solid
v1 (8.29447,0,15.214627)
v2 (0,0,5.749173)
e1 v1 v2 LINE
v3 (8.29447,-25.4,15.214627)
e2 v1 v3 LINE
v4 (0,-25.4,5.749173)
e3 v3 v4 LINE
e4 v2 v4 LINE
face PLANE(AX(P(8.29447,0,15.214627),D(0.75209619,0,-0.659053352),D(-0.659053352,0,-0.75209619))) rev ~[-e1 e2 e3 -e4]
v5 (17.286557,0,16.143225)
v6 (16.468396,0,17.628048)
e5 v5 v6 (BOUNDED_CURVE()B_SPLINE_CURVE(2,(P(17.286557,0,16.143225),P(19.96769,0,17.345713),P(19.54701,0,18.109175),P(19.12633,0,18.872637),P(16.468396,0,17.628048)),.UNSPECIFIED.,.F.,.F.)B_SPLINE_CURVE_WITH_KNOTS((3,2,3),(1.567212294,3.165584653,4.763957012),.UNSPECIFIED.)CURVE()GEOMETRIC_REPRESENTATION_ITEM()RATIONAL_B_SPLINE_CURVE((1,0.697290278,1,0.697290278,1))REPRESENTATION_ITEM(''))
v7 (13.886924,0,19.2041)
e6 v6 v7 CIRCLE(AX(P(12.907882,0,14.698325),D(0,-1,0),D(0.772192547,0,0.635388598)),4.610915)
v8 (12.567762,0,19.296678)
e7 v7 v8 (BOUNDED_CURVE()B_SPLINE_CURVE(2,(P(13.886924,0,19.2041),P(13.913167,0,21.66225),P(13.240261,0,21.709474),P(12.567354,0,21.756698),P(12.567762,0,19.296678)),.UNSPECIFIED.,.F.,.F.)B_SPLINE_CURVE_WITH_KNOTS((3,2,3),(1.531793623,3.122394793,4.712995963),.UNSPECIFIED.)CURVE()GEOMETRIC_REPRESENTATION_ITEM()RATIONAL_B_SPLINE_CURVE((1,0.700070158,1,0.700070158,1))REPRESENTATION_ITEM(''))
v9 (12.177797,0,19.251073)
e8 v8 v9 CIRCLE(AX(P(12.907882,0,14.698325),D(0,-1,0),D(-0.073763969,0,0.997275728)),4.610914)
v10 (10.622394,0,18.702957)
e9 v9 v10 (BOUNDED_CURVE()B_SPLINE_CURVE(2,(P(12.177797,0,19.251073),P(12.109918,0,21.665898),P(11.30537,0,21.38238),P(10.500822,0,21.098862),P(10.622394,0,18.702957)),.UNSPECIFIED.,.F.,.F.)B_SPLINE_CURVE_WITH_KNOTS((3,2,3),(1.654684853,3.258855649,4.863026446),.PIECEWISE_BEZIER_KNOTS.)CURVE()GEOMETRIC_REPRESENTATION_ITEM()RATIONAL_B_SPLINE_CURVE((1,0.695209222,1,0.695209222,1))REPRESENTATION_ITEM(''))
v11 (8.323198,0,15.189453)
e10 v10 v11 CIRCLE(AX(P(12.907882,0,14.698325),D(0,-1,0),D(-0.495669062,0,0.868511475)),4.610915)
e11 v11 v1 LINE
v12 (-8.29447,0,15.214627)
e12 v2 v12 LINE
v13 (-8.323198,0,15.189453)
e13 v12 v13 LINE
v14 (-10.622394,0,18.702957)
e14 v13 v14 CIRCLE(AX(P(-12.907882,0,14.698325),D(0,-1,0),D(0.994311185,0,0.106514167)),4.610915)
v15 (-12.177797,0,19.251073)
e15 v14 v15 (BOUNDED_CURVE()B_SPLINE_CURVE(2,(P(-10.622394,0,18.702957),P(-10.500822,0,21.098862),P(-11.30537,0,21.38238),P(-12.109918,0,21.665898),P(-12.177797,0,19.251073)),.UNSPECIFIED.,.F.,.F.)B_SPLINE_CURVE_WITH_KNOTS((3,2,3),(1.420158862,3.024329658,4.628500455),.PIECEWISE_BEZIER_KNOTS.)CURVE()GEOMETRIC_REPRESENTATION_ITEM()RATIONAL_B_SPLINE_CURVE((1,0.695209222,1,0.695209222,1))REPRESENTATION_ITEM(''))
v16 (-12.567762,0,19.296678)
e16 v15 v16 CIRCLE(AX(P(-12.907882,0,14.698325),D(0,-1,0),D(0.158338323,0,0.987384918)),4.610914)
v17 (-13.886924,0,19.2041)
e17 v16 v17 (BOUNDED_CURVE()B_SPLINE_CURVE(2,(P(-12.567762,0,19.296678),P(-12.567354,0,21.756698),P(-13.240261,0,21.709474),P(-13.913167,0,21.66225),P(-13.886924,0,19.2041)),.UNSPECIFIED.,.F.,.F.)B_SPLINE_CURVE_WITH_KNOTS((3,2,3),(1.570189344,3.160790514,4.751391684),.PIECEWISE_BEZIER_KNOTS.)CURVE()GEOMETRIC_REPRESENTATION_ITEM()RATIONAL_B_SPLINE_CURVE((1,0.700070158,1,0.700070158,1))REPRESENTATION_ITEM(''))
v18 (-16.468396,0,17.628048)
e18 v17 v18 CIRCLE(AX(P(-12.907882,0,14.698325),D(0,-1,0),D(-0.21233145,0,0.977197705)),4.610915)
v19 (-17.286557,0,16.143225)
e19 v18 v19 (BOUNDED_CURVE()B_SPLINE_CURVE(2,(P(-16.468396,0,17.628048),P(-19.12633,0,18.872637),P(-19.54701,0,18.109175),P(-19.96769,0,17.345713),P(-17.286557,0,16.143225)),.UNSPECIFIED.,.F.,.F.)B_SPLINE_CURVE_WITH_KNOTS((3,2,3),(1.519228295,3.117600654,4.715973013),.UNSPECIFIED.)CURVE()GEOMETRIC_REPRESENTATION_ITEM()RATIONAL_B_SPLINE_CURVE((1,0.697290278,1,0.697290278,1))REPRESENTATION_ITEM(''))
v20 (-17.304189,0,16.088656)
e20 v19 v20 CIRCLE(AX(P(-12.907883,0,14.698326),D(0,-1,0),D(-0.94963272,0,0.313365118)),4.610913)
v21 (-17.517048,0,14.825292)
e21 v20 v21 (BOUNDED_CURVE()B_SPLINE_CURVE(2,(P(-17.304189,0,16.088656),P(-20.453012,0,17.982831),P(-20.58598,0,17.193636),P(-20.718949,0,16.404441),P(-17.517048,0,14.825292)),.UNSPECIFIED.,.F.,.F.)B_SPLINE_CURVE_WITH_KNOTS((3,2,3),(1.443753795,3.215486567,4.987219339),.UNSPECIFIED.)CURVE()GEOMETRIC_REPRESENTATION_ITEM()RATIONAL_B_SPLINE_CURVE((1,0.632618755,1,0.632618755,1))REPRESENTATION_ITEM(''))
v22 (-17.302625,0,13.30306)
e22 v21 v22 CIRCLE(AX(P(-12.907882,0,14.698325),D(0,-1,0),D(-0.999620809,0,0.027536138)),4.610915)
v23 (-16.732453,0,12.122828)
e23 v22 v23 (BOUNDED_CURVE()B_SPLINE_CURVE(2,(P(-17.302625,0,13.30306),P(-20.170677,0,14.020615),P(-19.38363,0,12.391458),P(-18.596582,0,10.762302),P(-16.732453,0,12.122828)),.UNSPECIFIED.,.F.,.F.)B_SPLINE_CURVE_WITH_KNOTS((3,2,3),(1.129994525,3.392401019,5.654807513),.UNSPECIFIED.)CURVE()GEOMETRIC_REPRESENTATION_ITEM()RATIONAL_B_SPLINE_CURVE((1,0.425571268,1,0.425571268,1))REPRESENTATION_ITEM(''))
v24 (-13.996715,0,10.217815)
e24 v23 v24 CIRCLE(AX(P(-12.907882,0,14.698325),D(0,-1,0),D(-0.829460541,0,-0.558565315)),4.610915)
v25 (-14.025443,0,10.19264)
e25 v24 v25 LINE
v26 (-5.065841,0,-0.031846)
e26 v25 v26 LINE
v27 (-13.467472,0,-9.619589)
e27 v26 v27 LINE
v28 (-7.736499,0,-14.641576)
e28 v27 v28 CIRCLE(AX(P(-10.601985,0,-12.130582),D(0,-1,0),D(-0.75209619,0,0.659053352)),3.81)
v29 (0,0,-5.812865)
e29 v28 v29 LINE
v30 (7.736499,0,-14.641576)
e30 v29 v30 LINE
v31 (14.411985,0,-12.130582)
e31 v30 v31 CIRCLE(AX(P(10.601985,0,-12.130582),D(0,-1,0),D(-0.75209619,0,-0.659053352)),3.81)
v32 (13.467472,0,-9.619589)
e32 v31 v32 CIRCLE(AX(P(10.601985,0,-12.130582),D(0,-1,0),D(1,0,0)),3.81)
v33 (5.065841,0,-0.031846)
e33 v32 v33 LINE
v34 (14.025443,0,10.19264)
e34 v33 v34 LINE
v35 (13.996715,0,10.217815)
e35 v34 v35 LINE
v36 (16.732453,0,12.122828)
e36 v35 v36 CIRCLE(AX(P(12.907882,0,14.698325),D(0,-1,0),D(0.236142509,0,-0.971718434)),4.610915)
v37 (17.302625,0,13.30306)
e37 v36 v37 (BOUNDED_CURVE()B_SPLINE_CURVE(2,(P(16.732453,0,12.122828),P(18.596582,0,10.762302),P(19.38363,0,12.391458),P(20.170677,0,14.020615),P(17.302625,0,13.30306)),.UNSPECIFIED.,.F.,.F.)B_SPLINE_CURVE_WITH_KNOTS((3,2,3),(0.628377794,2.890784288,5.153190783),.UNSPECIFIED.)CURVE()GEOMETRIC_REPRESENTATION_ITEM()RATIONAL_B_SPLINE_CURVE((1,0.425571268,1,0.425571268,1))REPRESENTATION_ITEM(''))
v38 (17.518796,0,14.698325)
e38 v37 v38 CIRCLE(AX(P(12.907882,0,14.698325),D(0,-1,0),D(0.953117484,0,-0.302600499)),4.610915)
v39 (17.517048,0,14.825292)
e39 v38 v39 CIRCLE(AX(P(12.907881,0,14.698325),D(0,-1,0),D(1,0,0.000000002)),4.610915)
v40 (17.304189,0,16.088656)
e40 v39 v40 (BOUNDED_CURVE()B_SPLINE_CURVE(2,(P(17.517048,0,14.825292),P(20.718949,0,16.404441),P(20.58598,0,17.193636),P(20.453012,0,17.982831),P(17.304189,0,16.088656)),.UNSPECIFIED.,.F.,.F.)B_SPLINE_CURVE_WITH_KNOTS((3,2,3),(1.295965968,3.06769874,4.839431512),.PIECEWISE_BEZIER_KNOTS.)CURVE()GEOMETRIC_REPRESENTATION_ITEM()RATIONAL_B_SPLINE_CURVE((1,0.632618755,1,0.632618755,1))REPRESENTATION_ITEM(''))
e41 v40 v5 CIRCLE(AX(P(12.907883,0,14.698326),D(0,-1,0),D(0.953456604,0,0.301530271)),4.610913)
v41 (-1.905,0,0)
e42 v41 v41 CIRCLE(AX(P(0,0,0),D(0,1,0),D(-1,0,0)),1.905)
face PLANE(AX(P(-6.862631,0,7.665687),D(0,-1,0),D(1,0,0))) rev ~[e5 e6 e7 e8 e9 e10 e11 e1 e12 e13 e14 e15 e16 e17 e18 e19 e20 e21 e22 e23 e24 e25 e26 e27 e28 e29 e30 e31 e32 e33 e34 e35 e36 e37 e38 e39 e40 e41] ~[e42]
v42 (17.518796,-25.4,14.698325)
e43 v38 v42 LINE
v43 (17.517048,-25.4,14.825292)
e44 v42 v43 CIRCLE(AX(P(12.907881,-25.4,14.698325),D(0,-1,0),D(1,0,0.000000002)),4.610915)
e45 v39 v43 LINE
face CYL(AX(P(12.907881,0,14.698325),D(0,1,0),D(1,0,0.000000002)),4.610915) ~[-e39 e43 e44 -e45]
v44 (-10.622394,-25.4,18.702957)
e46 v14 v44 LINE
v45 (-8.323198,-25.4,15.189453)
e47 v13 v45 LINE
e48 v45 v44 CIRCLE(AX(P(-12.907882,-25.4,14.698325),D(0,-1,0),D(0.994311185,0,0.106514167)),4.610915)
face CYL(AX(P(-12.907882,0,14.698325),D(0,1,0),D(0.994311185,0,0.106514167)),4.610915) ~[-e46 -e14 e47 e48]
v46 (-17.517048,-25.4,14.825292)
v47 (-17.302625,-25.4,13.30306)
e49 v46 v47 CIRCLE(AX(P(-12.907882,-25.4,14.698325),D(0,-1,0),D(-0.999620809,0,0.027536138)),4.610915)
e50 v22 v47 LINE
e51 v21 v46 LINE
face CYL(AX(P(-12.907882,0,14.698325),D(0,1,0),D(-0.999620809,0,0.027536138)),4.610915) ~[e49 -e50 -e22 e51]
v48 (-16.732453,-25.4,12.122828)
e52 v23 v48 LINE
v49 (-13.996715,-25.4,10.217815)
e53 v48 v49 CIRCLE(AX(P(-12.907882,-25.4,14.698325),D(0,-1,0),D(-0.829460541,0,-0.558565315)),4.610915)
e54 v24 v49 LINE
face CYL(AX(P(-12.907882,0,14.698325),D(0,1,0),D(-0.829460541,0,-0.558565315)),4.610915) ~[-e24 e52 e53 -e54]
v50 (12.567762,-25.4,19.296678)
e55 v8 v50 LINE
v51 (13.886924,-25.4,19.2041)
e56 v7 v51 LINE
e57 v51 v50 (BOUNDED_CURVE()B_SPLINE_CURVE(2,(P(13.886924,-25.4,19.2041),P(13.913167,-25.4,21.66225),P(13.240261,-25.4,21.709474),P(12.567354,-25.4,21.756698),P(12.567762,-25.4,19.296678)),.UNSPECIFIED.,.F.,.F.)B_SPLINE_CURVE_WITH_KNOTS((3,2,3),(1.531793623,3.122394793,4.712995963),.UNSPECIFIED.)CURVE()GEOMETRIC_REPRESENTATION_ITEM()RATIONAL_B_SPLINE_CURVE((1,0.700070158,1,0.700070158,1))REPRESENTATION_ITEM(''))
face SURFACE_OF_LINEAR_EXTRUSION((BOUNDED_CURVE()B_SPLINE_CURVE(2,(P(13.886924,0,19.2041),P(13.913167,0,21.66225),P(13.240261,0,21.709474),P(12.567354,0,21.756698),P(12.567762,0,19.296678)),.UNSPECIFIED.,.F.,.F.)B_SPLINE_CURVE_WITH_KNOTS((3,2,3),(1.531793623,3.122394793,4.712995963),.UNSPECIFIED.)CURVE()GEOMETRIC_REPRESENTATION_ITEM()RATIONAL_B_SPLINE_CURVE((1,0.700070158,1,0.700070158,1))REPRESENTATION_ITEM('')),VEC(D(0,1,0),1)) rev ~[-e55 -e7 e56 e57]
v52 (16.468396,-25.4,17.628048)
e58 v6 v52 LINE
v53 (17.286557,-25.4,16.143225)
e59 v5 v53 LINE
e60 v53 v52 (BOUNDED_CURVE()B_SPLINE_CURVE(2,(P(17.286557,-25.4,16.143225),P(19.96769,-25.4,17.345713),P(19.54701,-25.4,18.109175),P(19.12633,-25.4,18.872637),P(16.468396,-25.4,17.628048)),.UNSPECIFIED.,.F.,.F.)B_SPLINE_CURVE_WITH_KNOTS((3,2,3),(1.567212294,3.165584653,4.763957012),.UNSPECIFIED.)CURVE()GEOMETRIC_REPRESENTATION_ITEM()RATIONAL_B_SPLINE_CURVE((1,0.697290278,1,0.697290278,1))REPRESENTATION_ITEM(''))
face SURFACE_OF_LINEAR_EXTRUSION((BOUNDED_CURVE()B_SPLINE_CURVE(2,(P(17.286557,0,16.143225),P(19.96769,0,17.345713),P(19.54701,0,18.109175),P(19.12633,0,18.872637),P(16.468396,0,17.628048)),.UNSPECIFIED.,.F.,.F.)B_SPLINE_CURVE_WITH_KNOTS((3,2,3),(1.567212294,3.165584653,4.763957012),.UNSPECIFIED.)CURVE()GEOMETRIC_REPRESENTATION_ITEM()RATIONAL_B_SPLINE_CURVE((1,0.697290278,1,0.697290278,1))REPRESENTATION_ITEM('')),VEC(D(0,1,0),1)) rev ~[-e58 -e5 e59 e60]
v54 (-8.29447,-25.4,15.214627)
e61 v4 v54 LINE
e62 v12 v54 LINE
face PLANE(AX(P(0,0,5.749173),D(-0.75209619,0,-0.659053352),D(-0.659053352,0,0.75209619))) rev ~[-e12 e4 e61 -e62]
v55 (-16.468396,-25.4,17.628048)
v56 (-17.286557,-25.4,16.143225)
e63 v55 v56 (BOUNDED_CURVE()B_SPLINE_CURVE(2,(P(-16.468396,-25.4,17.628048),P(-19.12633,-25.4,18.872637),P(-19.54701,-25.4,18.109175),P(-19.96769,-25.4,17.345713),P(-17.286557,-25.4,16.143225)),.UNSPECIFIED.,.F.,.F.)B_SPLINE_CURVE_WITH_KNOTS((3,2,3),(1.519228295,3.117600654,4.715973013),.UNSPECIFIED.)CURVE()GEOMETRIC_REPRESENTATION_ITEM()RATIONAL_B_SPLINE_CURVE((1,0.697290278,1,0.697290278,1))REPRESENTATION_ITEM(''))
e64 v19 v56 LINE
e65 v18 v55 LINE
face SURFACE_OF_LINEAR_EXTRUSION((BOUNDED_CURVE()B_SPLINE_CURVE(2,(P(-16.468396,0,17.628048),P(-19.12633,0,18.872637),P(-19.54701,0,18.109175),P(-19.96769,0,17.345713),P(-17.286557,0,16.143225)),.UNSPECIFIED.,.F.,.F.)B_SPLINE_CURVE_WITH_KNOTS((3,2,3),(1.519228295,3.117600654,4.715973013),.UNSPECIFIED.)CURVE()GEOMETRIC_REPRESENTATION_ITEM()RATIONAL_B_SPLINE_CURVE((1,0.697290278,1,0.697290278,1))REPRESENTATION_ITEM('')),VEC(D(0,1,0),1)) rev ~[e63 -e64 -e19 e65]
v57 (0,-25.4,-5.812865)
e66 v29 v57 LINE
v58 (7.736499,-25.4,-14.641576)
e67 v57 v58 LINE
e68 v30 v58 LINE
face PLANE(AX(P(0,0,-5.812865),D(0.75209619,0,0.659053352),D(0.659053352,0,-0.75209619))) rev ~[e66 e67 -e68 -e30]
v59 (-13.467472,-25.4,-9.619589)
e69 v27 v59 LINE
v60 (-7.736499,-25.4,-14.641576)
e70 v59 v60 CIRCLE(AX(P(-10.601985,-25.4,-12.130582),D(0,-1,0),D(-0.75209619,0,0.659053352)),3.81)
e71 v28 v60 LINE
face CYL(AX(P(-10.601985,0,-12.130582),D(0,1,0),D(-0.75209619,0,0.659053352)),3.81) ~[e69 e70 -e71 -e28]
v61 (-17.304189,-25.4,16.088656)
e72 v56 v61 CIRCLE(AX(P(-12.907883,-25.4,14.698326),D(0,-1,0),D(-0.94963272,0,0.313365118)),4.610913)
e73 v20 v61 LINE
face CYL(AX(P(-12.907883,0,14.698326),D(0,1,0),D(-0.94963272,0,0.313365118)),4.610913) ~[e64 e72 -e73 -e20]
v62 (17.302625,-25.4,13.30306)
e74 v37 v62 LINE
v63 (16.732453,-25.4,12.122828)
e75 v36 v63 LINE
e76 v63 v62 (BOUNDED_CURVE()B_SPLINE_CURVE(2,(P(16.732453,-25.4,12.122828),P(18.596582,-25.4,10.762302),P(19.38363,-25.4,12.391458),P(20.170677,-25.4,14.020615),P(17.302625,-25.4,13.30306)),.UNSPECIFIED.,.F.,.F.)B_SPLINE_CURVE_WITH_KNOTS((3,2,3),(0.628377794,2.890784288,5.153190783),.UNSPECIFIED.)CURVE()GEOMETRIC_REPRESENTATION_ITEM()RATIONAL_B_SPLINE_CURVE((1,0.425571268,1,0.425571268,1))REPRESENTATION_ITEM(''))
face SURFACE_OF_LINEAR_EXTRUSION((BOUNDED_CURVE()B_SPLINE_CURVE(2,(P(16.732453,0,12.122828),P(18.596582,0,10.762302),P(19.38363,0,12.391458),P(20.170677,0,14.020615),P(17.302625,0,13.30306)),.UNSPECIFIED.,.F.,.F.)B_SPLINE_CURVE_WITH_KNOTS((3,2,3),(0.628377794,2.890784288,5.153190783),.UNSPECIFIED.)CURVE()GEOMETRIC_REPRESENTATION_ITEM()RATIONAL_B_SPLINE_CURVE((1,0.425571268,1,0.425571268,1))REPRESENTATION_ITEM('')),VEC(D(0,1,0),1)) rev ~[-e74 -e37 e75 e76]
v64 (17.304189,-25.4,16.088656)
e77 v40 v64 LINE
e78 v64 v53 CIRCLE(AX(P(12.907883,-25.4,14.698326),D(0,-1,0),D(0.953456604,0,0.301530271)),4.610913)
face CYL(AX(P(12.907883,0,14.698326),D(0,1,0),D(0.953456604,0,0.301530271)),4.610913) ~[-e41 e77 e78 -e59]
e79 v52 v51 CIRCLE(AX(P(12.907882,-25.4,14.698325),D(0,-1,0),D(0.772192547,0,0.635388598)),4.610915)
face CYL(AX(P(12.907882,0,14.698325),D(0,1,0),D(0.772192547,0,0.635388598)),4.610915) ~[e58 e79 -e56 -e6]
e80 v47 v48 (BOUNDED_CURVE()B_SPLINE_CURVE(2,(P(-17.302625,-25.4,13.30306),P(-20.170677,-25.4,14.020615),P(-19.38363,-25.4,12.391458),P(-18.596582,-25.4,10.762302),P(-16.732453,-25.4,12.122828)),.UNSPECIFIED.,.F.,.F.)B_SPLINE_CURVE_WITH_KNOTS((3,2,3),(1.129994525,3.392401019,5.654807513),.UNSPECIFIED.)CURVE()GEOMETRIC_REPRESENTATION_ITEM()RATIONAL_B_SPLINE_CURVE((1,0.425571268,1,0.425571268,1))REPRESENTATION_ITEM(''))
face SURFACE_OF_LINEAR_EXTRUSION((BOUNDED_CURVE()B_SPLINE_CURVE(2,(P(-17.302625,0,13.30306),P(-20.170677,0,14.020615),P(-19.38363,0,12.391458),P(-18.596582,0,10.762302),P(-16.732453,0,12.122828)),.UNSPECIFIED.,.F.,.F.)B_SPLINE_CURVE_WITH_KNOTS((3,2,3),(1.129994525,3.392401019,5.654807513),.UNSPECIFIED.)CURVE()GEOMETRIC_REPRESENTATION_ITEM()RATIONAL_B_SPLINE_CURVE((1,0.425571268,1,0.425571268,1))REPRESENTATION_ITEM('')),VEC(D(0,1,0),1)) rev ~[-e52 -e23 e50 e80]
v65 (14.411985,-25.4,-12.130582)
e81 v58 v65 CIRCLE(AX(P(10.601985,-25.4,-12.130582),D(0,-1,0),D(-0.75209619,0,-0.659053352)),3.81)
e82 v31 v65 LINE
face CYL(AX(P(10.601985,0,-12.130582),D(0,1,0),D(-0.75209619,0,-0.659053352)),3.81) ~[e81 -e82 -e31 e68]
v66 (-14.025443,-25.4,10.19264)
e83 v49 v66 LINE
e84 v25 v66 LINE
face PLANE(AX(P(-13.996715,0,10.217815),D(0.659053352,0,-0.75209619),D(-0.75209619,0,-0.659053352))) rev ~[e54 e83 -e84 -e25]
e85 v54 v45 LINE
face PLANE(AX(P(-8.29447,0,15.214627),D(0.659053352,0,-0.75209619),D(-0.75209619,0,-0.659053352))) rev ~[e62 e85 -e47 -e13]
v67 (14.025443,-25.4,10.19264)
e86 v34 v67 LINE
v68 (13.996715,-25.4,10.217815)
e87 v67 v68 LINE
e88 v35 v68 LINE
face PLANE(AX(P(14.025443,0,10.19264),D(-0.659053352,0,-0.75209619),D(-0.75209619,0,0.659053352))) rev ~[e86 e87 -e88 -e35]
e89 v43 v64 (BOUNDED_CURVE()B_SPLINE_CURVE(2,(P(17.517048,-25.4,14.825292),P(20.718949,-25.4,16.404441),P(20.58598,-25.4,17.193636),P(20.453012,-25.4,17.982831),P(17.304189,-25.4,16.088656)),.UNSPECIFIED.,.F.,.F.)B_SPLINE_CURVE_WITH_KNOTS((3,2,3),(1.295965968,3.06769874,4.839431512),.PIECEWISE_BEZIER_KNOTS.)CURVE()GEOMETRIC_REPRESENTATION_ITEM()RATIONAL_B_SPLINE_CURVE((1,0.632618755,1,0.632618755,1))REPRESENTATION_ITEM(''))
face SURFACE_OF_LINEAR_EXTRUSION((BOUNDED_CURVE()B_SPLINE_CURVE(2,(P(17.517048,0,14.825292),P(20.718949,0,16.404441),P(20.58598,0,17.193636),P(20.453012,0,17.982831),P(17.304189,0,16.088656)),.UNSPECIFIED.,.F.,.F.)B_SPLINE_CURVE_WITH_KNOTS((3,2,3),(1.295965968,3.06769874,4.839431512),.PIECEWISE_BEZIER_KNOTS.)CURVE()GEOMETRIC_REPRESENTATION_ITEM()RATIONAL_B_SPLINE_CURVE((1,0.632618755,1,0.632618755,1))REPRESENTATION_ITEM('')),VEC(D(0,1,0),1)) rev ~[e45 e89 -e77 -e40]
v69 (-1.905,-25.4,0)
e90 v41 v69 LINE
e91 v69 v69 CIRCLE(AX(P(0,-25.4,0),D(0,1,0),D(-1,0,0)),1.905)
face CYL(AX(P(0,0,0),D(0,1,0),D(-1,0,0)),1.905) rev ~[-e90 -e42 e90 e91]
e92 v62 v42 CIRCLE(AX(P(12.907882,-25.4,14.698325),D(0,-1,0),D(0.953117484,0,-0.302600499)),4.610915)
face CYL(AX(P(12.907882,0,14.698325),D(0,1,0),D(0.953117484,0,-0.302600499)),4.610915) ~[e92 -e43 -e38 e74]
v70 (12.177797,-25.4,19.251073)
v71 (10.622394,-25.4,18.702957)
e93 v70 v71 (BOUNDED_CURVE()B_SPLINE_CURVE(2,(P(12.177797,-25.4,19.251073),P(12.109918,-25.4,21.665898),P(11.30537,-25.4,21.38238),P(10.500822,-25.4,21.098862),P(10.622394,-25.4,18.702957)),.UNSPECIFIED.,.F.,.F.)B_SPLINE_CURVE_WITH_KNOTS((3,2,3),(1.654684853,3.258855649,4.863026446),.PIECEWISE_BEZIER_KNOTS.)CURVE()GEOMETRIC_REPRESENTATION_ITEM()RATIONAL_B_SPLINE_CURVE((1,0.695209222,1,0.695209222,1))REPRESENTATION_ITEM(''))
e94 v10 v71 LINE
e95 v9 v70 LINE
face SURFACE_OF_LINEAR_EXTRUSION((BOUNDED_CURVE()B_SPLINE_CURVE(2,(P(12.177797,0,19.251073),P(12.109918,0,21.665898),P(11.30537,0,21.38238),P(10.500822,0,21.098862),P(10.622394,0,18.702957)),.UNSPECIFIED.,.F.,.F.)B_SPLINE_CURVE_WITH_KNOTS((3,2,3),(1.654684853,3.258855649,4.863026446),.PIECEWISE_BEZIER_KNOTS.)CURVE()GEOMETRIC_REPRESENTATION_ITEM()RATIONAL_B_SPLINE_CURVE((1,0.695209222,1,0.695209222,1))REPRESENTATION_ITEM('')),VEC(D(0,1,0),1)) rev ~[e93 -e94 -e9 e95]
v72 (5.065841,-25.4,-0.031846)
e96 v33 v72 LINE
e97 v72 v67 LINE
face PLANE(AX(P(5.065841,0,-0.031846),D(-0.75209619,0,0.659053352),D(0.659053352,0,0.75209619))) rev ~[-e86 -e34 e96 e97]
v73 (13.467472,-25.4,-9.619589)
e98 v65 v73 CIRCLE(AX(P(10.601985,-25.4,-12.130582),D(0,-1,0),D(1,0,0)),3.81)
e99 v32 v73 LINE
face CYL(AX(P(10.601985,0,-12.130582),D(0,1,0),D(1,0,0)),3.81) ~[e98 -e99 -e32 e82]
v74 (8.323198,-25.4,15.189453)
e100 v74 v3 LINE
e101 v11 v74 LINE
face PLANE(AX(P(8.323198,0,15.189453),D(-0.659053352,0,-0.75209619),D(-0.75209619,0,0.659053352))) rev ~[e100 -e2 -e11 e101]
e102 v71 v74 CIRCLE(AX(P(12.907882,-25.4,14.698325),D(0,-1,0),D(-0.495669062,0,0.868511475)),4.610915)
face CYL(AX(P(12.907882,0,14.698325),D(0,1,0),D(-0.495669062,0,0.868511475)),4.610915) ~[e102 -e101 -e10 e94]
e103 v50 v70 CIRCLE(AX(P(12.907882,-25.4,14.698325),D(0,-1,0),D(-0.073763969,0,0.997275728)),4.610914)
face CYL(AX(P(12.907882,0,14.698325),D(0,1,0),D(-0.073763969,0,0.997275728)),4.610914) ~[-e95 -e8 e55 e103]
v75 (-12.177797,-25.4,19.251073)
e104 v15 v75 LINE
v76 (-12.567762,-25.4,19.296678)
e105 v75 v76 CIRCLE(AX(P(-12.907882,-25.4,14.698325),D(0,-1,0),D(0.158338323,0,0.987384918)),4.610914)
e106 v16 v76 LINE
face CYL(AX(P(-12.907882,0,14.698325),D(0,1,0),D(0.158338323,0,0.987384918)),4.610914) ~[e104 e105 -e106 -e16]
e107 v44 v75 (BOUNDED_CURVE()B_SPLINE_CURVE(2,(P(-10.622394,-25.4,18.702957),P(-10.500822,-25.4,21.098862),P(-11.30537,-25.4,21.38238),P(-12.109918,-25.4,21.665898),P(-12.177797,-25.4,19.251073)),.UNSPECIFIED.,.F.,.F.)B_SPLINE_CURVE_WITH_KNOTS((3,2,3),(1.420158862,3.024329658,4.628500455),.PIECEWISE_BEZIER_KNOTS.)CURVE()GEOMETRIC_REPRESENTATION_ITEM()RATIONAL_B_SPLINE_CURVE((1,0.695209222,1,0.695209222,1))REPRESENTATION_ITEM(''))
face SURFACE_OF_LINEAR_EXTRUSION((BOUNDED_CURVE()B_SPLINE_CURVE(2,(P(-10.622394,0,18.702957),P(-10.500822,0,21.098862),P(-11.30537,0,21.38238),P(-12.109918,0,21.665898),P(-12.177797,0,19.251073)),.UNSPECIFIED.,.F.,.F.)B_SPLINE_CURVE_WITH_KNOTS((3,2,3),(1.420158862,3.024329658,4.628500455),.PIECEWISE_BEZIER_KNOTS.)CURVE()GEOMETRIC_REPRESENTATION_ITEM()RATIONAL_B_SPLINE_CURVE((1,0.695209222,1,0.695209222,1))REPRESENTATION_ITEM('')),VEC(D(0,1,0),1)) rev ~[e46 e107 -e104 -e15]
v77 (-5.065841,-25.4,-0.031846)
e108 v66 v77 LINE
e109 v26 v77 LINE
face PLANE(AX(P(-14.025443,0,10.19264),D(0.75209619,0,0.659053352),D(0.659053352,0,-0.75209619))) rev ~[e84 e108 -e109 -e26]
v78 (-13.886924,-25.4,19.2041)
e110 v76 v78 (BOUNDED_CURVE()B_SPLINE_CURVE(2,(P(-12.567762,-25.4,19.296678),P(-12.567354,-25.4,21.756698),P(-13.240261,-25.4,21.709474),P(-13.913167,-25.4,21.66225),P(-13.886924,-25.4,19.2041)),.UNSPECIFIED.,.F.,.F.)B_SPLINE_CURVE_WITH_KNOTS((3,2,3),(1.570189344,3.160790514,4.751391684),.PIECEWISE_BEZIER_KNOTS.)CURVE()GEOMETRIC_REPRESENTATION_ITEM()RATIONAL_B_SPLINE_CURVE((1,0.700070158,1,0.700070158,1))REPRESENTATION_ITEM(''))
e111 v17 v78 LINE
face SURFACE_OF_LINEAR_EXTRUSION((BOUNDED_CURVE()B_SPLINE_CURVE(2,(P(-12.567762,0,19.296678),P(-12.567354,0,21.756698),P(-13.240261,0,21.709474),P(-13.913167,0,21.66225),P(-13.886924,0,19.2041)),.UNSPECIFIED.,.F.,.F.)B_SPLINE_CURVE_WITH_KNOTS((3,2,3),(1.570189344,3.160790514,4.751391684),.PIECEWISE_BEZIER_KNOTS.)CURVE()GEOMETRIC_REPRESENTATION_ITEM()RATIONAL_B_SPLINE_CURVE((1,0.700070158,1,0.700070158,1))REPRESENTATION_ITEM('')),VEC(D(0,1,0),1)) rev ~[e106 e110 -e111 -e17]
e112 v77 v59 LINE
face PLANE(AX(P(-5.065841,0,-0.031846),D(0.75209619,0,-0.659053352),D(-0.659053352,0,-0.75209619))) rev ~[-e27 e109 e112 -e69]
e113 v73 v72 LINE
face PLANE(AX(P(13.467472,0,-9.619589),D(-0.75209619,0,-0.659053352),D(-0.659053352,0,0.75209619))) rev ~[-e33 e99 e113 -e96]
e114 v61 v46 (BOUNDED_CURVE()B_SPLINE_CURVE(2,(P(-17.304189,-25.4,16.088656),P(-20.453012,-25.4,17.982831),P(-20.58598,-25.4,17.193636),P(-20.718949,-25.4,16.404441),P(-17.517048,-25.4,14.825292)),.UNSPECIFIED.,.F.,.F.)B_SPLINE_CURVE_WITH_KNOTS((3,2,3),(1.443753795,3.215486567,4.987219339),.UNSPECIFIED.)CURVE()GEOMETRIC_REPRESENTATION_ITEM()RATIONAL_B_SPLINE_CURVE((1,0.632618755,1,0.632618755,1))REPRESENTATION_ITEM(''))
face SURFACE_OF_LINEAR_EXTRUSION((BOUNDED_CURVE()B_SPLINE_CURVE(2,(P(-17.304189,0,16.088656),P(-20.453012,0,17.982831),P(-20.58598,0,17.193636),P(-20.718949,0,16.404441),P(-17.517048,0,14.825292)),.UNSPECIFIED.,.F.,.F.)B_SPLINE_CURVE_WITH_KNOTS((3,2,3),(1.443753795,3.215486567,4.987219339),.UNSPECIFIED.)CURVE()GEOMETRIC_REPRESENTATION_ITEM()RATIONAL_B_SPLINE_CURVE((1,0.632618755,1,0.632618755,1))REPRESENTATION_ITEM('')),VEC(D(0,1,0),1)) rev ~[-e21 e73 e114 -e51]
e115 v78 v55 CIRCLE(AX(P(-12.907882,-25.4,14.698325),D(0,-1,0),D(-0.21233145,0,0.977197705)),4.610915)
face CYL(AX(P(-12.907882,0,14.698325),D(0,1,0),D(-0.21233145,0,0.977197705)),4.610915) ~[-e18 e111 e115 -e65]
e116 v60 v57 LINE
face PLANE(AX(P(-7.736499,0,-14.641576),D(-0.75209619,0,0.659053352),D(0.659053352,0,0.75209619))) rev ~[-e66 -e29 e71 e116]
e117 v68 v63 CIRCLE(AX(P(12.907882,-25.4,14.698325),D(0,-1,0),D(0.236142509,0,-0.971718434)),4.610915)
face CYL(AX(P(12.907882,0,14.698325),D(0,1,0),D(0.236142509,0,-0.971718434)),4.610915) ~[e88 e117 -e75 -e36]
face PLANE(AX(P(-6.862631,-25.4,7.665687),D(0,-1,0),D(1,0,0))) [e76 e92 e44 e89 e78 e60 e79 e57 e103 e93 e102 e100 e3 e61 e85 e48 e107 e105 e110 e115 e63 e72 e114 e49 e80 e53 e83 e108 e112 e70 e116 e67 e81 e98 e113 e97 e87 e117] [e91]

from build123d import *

# Parameters (mm, degrees)
F1_DEPTH = 25.4
F2_R     = 1.905
F3_DEPTH = 25.4


with BuildPart() as f1:
    # F0 (on Front) → F1 (new body)
    with BuildSketch(Plane.XZ):
        with BuildLine():
            Line((0, 5.7491731517), (-8.2944697503, 15.2146270099))
            Line((-8.2944697503, 15.2146270099), (-8.3231978396, 15.1894529114))
            ThreePointArc((-8.3231978396, 15.1894529114), (-8.3035295288, 14.94423904), (-8.2969671988, 14.6983251912))
            ThreePointArc((-8.2969671988, 14.6983251912), (-10.0583188378, 11.0733391142), (-13.9967146278, 10.2178145639))
            Line((-13.9967146278, 10.2178145639), (-14.0254427171, 10.1926404654))
            Line((-14.0254427171, 10.1926404654), (-5.0658413794, -0.0318459217))
            Line((-5.0658413794, -0.0318459217), (0, 5.7491731517))
        make_face()
        with BuildLine():
            Line((8.2944697503, 15.2146270099), (0, 5.7491731517))
            Line((0, 5.7491731517), (5.0658413794, -0.0318459217))
            Line((5.0658413794, -0.0318459217), (14.0254427171, 10.1926404654))
            Line((14.0254427171, 10.1926404654), (13.9967146278, 10.2178145639))
            ThreePointArc((13.9967146278, 10.2178145639), (9.8690430435, 11.2304739572), (8.3231978396, 15.1894529114))
            Line((8.3231978396, 15.1894529114), (8.2944697503, 15.2146270099))
        make_face()
        Polygon((5.0658413794, -0.0318459217), (0, 5.7491731517), (-5.0658413794, -0.0318459217), (0, -5.8128649951), align=None)
        with BuildLine():
            ThreePointArc((-8.2969671988, 14.6983251912), (-8.3035295288, 14.94423904), (-8.3231978396, 15.1894529114))
            Line((-8.3231978396, 15.1894529114), (-11.1599562337, 12.7036337377))
            Line((-11.1599562337, 12.7036337377), (-13.9967146278, 10.2178145639))
            ThreePointArc((-13.9967146278, 10.2178145639), (-10.0583188378, 11.0733391142), (-8.2969671988, 14.6983251912))
        make_face()
        with BuildLine():
            Line((-11.1599562337, 12.7036337377), (-8.3231978396, 15.1894529114))
            ThreePointArc((-8.3231978396, 15.1894529114), (-9.0496447277, 17.2231103335), (-10.6223940399, 18.7029573502))
            add(Edge.make_bspline(
                [(-11.397036872, 16.7108965981), (-10.7234744769, 16.7108965981), (-10.6223940399, 18.7029573502)],
                knots=[0, 0, 0, 1.4201588617, 1.4201588617, 1.4201588617], degree=2, weights=[1, 0.7583100979, 1]))
            add(Edge.make_bspline(
                [(-12.1777972418, 19.2510726344), (-12.2492001468, 16.7108965981), (-11.397036872, 16.7108965981)],
                knots=[4.6285004545, 4.6285004545, 4.6285004545, 6.2831853072, 6.2831853072, 6.2831853072], degree=2, weights=[1, 0.6768344815, 1]))
            ThreePointArc((-12.1777972418, 19.2510726344), (-12.3722941564, 19.2780280838), (-12.5677623507, 19.2966783129))
            add(Edge.make_bspline(
                [(-13.2275939538, 16.8863658989), (-12.568162614, 16.8863658989), (-12.5677623507, 19.2966783129)],
                knots=[0, 0, 0, 1.5701893442, 1.5701893442, 1.5701893442], degree=2, weights=[1, 0.7073213494, 1]))
            add(Edge.make_bspline(
                [(-13.8869238704, 19.2041002692), (-13.8621795895, 16.8863658989), (-13.2275939538, 16.8863658989)],
                knots=[4.751391684, 4.751391684, 4.751391684, 6.2831853072, 6.2831853072, 6.2831853072], degree=2, weights=[1, 0.7207609922, 1]))
            ThreePointArc((-13.8869238704, 19.2041002692), (-15.3105630335, 18.6337610065), (-16.4683955259, 17.6280476969))
            add(Edge.make_bspline(
                [(-14.3421338871, 15.7459191978), (-14.0127760713, 16.4781937118), (-16.4683955259, 17.6280476969)],
                knots=[0, 0, 0, 1.5192282947, 1.5192282947, 1.5192282947], degree=2, weights=[1, 0.7251017789, 1]))
            add(Edge.make_bspline(
                [(-17.2865569965, 16.1432249544), (-14.6876888139, 14.9776329939), (-14.3421338871, 15.7459191978)],
                knots=[4.7159730132, 4.7159730132, 4.7159730132, 6.2831853072, 6.2831853072, 6.2831853072], degree=2, weights=[1, 0.7083727921, 1]))
            ThreePointArc((-17.2865569965, 16.1432249544), (-17.2954576321, 16.1159676419), (-17.3041885923, 16.0886555067))
            add(Edge.make_bspline(
                [(-15.3071302921, 14.2545606941), (-15.039718366, 14.7264631696), (-17.3041885923, 16.0886555067)],
                knots=[0, 0, 0, 1.4437537951, 1.4437537951, 1.4437537951], degree=2, weights=[1, 0.7505668082, 1]))
            add(Edge.make_bspline(
                [(-17.5170477979, 14.8252919707), (-15.5370704354, 13.8487847646), (-15.3071302921, 14.2545606941)],
                knots=[4.9872193392, 4.9872193392, 4.9872193392, 6.2831853072, 6.2831853072, 6.2831853072], degree=2, weights=[1, 0.797302849, 1]))
            ThreePointArc((-17.5170477979, 14.8252919707), (-17.4737215217, 14.0551771502), (-17.3026249434, 13.303060162))
            add(Edge.make_bspline(
                [(-16.4475776255, 12.5877521932), (-16.4475776255, 13.0891369536), (-17.3026249434, 13.303060162)],
                knots=[0, 0, 0, 1.1299945247, 1.1299945247, 1.1299945247], degree=2, weights=[1, 0.8445900662, 1]))
            add(Edge.make_bspline(
                [(-16.7324533518, 12.1228282782), (-16.4475776255, 12.3307436247), (-16.4475776255, 12.5877521932)],
                knots=[5.6548075128, 5.6548075128, 5.6548075128, 6.2831853072, 6.2831853072, 6.2831853072], degree=2, weights=[1, 0.9510473591, 1]))
            ThreePointArc((-16.7324533518, 12.1228282782), (-15.542773625, 10.9144281004), (-13.9967146278, 10.2178145639))
            Line((-13.9967146278, 10.2178145639), (-11.1599562337, 12.7036337377))
        make_face()
        with BuildLine():
            Line((13.4674719425, -9.6195891799), (5.0658413794, -0.0318459217))
            Line((5.0658413794, -0.0318459217), (0, -5.8128649951))
            Line((0, -5.8128649951), (7.7364989756, -14.6415757244))
            ThreePointArc((7.7364989756, -14.6415757244), (8.0909921868, -9.2650959687), (13.4674719425, -9.6195891799))
        make_face()
        with BuildLine():
            Line((0, -5.8128649951), (-5.0658413794, -0.0318459217))
            Line((-5.0658413794, -0.0318459217), (-13.4674719425, -9.6195891799))
            ThreePointArc((-13.4674719425, -9.6195891799), (-9.2606062252, -8.5645199525), (-6.791985459, -12.1305824521))
            ThreePointArc((-6.791985459, -12.1305824521), (-7.0359229594, -13.471961686), (-7.7364989756, -14.6415757244))
            Line((-7.7364989756, -14.6415757244), (0, -5.8128649951))
        make_face()
        with BuildLine():
            add(Edge.make_bspline(
                [(-11.397036872, 16.7108965981), (-10.7234744769, 16.7108965981), (-10.6223940399, 18.7029573502)],
                knots=[0, 0, 0, 1.4201588617, 1.4201588617, 1.4201588617], degree=2, weights=[1, 0.7583100979, 1]))
            ThreePointArc((-10.6223940399, 18.7029573502), (-11.3753914419, 19.0471188394), (-12.1777972418, 19.2510726344))
            add(Edge.make_bspline(
                [(-12.1777972418, 19.2510726344), (-12.2492001468, 16.7108965981), (-11.397036872, 16.7108965981)],
                knots=[4.6285004545, 4.6285004545, 4.6285004545, 6.2831853072, 6.2831853072, 6.2831853072], degree=2, weights=[1, 0.6768344815, 1]))
        make_face()
        with BuildLine():
            ThreePointArc((-12.1777972418, 19.2510726344), (-11.3753914419, 19.0471188394), (-10.6223940399, 18.7029573502))
            add(Edge.make_bspline(
                [(-10.6223940399, 18.7029573502), (-10.5008219166, 21.0988616654), (-11.3053698951, 21.382379819), (-12.1099178736, 21.6658979726), (-12.1777972418, 19.2510726344)],
                knots=[1.4201588617, 1.4201588617, 1.4201588617, 3.0243296581, 3.0243296581, 4.6285004545, 4.6285004545, 4.6285004545], degree=2, weights=[1, 0.6952092224, 1, 0.6952092224, 1]))
        make_face()
        with BuildLine():
            ThreePointArc((14.411985459, -12.1305824521), (14.1680479586, -10.7892032183), (13.4674719425, -9.6195891799))
            Line((13.4674719425, -9.6195891799), (7.7364989756, -14.6415757244))
            ThreePointArc((7.7364989756, -14.6415757244), (11.9433646929, -15.6966449517), (14.411985459, -12.1305824521))
        make_face()
        with BuildLine():
            Line((7.7364989756, -14.6415757244), (13.4674719425, -9.6195891799))
            ThreePointArc((13.4674719425, -9.6195891799), (8.0909921868, -9.2650959687), (7.7364989756, -14.6415757244))
        make_face()
        with BuildLine():
            Line((13.9967146278, 10.2178145639), (8.3231978396, 15.1894529114))
            ThreePointArc((8.3231978396, 15.1894529114), (9.8690430435, 11.2304739572), (13.9967146278, 10.2178145639))
        make_face()
        with BuildLine():
            ThreePointArc((10.6223940399, 18.7029573502), (9.0496447277, 17.2231103335), (8.3231978396, 15.1894529114))
            Line((8.3231978396, 15.1894529114), (13.9967146278, 10.2178145639))
            ThreePointArc((13.9967146278, 10.2178145639), (15.542773625, 10.9144281004), (16.7324533518, 12.1228282782))
            add(Edge.make_bspline(
                [(16.4475776255, 12.5877521932), (16.4475776255, 12.3307436247), (16.7324533518, 12.1228282782)],
                knots=[0, 0, 0, 0.6283777944, 0.6283777944, 0.6283777944], degree=2, weights=[1, 0.9510473591, 1]))
            add(Edge.make_bspline(
                [(17.3026249434, 13.303060162), (16.4475776255, 13.0891369536), (16.4475776255, 12.5877521932)],
                knots=[5.1531907825, 5.1531907825, 5.1531907825, 6.2831853072, 6.2831853072, 6.2831853072], degree=2, weights=[1, 0.8445900662, 1]))
            ThreePointArc((17.3026249434, 13.303060162), (17.4644329232, 13.9923693638), (17.5187962168, 14.6983251912))
            ThreePointArc((17.5187962168, 14.6983251912), (17.5183590913, 14.7618145999), (17.5170477979, 14.8252919707))
            add(Edge.make_bspline(
                [(15.3071302921, 14.2545606941), (15.5370704354, 13.8487847646), (17.5170477979, 14.8252919707)],
                knots=[0, 0, 0, 1.295965968, 1.295965968, 1.295965968], degree=2, weights=[1, 0.797302849, 1]))
            add(Edge.make_bspline(
                [(17.3041885923, 16.0886555067), (15.039718366, 14.7264631696), (15.3071302921, 14.2545606941)],
                knots=[4.839431512, 4.839431512, 4.839431512, 6.2831853072, 6.2831853072, 6.2831853072], degree=2, weights=[1, 0.7505668082, 1]))
            ThreePointArc((17.3041885923, 16.0886555067), (17.2954576321, 16.1159676419), (17.2865569965, 16.1432249544))
            add(Edge.make_bspline(
                [(14.3421338871, 15.7459191978), (14.6876888139, 14.9776329939), (17.2865569965, 16.1432249544)],
                knots=[0, 0, 0, 1.567212294, 1.567212294, 1.567212294], degree=2, weights=[1, 0.7083727921, 1]))
            add(Edge.make_bspline(
                [(16.4683955259, 17.6280476969), (14.0127760713, 16.4781937118), (14.3421338871, 15.7459191978)],
                knots=[4.7639570125, 4.7639570125, 4.7639570125, 6.2831853072, 6.2831853072, 6.2831853072], degree=2, weights=[1, 0.7251017789, 1]))
            ThreePointArc((16.4683955259, 17.6280476969), (15.3105630335, 18.6337610065), (13.8869238704, 19.2041002692))
            add(Edge.make_bspline(
                [(13.2275939538, 16.8863658989), (13.8621795895, 16.8863658989), (13.8869238704, 19.2041002692)],
                knots=[0, 0, 0, 1.5317936232, 1.5317936232, 1.5317936232], degree=2, weights=[1, 0.7207609922, 1]))
            add(Edge.make_bspline(
                [(12.5677623507, 19.2966783129), (12.568162614, 16.8863658989), (13.2275939538, 16.8863658989)],
                knots=[4.7129959629, 4.7129959629, 4.7129959629, 6.2831853072, 6.2831853072, 6.2831853072], degree=2, weights=[1, 0.7073213494, 1]))
            ThreePointArc((12.5677623507, 19.2966783129), (12.3722941564, 19.2780280838), (12.1777972418, 19.2510726344))
            add(Edge.make_bspline(
                [(11.397036872, 16.7108965981), (12.2492001468, 16.7108965981), (12.1777972418, 19.2510726344)],
                knots=[0, 0, 0, 1.6546848527, 1.6546848527, 1.6546848527], degree=2, weights=[1, 0.6768344815, 1]))
            add(Edge.make_bspline(
                [(10.6223940399, 18.7029573502), (10.7234744769, 16.7108965981), (11.397036872, 16.7108965981)],
                knots=[4.8630264455, 4.8630264455, 4.8630264455, 6.2831853072, 6.2831853072, 6.2831853072], degree=2, weights=[1, 0.7583100979, 1]))
        make_face()
        with BuildLine():
            ThreePointArc((-6.791985459, -12.1305824521), (-9.2606062252, -8.5645199525), (-13.4674719425, -9.6195891799))
            Line((-13.4674719425, -9.6195891799), (-7.7364989756, -14.6415757244))
            ThreePointArc((-7.7364989756, -14.6415757244), (-7.0359229594, -13.471961686), (-6.791985459, -12.1305824521))
        make_face()
        with BuildLine():
            Line((-7.7364989756, -14.6415757244), (-13.4674719425, -9.6195891799))
            ThreePointArc((-13.4674719425, -9.6195891799), (-13.1129787313, -14.9960689356), (-7.7364989756, -14.6415757244))
        make_face()
        with BuildLine():
            ThreePointArc((12.1777972418, 19.2510726344), (11.3753914419, 19.0471188394), (10.6223940399, 18.7029573502))
            add(Edge.make_bspline(
                [(10.6223940399, 18.7029573502), (10.7234744769, 16.7108965981), (11.397036872, 16.7108965981)],
                knots=[4.8630264455, 4.8630264455, 4.8630264455, 6.2831853072, 6.2831853072, 6.2831853072], degree=2, weights=[1, 0.7583100979, 1]))
            add(Edge.make_bspline(
                [(11.397036872, 16.7108965981), (12.2492001468, 16.7108965981), (12.1777972418, 19.2510726344)],
                knots=[0, 0, 0, 1.6546848527, 1.6546848527, 1.6546848527], degree=2, weights=[1, 0.6768344815, 1]))
        make_face()
        with BuildLine():
            add(Edge.make_bspline(
                [(12.1777972418, 19.2510726344), (12.1099178736, 21.6658979726), (11.3053698951, 21.382379819), (10.5008219166, 21.0988616654), (10.6223940399, 18.7029573502)],
                knots=[1.6546848527, 1.6546848527, 1.6546848527, 3.2588556491, 3.2588556491, 4.8630264455, 4.8630264455, 4.8630264455], degree=2, weights=[1, 0.6952092224, 1, 0.6952092224, 1]))
            ThreePointArc((10.6223940399, 18.7029573502), (11.3753914419, 19.0471188394), (12.1777972418, 19.2510726344))
        make_face()
        with BuildLine():
            add(Edge.make_bspline(
                [(-17.3026249434, 13.303060162), (-20.1706770835, 14.020614504), (-19.3836295087, 12.3914582018), (-18.5965819339, 10.7623018997), (-16.7324533518, 12.1228282782)],
                knots=[1.1299945247, 1.1299945247, 1.1299945247, 3.3924010187, 3.3924010187, 5.6548075128, 5.6548075128, 5.6548075128], degree=2, weights=[1, 0.425571268, 1, 0.425571268, 1]))
            ThreePointArc((-16.7324533518, 12.1228282782), (-17.0596910841, 12.6925805635), (-17.3026249434, 13.303060162))
        make_face()
        with BuildLine():
            ThreePointArc((-17.3026249434, 13.303060162), (-17.0596910841, 12.6925805635), (-16.7324533518, 12.1228282782))
            add(Edge.make_bspline(
                [(-16.7324533518, 12.1228282782), (-16.4475776255, 12.3307436247), (-16.4475776255, 12.5877521932)],
                knots=[5.6548075128, 5.6548075128, 5.6548075128, 6.2831853072, 6.2831853072, 6.2831853072], degree=2, weights=[1, 0.9510473591, 1]))
            add(Edge.make_bspline(
                [(-16.4475776255, 12.5877521932), (-16.4475776255, 13.0891369536), (-17.3026249434, 13.303060162)],
                knots=[0, 0, 0, 1.1299945247, 1.1299945247, 1.1299945247], degree=2, weights=[1, 0.8445900662, 1]))
        make_face()
        with BuildLine():
            add(Edge.make_bspline(
                [(-13.2275939538, 16.8863658989), (-12.568162614, 16.8863658989), (-12.5677623507, 19.2966783129)],
                knots=[0, 0, 0, 1.5701893442, 1.5701893442, 1.5701893442], degree=2, weights=[1, 0.7073213494, 1]))
            ThreePointArc((-12.5677623507, 19.2966783129), (-13.2306792626, 19.2979267335), (-13.8869238704, 19.2041002692))
            add(Edge.make_bspline(
                [(-13.8869238704, 19.2041002692), (-13.8621795895, 16.8863658989), (-13.2275939538, 16.8863658989)],
                knots=[4.751391684, 4.751391684, 4.751391684, 6.2831853072, 6.2831853072, 6.2831853072], degree=2, weights=[1, 0.7207609922, 1]))
        make_face()
        with BuildLine():
            ThreePointArc((-13.8869238704, 19.2041002692), (-13.2306792626, 19.2979267335), (-12.5677623507, 19.2966783129))
            add(Edge.make_bspline(
                [(-12.5677623507, 19.2966783129), (-12.5673538328, 21.7566983424), (-13.2402605331, 21.7094741132), (-13.9131672333, 21.662249884), (-13.8869238704, 19.2041002692)],
                knots=[1.5701893442, 1.5701893442, 1.5701893442, 3.1607905141, 3.1607905141, 4.751391684, 4.751391684, 4.751391684], degree=2, weights=[1, 0.7000701578, 1, 0.7000701578, 1]))
        make_face()
        with BuildLine():
            add(Edge.make_bspline(
                [(16.4475776255, 12.5877521932), (16.4475776255, 12.3307436247), (16.7324533518, 12.1228282782)],
                knots=[0, 0, 0, 0.6283777944, 0.6283777944, 0.6283777944], degree=2, weights=[1, 0.9510473591, 1]))
            ThreePointArc((16.7324533518, 12.1228282782), (17.0596910841, 12.6925805635), (17.3026249434, 13.303060162))
            add(Edge.make_bspline(
                [(17.3026249434, 13.303060162), (16.4475776255, 13.0891369536), (16.4475776255, 12.5877521932)],
                knots=[5.1531907825, 5.1531907825, 5.1531907825, 6.2831853072, 6.2831853072, 6.2831853072], degree=2, weights=[1, 0.8445900662, 1]))
        make_face()
        with BuildLine():
            ThreePointArc((17.3026249434, 13.303060162), (17.0596910841, 12.6925805635), (16.7324533518, 12.1228282782))
            add(Edge.make_bspline(
                [(16.7324533518, 12.1228282782), (18.5965819339, 10.7623018997), (19.3836295087, 12.3914582018), (20.1706770835, 14.020614504), (17.3026249434, 13.303060162)],
                knots=[0.6283777944, 0.6283777944, 0.6283777944, 2.8907842884, 2.8907842884, 5.1531907825, 5.1531907825, 5.1531907825], degree=2, weights=[1, 0.425571268, 1, 0.425571268, 1]))
        make_face()
        with BuildLine():
            ThreePointArc((13.8869238704, 19.2041002692), (13.2306792626, 19.2979267335), (12.5677623507, 19.2966783129))
            add(Edge.make_bspline(
                [(12.5677623507, 19.2966783129), (12.568162614, 16.8863658989), (13.2275939538, 16.8863658989)],
                knots=[4.7129959629, 4.7129959629, 4.7129959629, 6.2831853072, 6.2831853072, 6.2831853072], degree=2, weights=[1, 0.7073213494, 1]))
            add(Edge.make_bspline(
                [(13.2275939538, 16.8863658989), (13.8621795895, 16.8863658989), (13.8869238704, 19.2041002692)],
                knots=[0, 0, 0, 1.5317936232, 1.5317936232, 1.5317936232], degree=2, weights=[1, 0.7207609922, 1]))
        make_face()
        with BuildLine():
            add(Edge.make_bspline(
                [(13.8869238704, 19.2041002692), (13.9131672333, 21.662249884), (13.2402605331, 21.7094741132), (12.5673538328, 21.7566983424), (12.5677623507, 19.2966783129)],
                knots=[1.5317936232, 1.5317936232, 1.5317936232, 3.1223947931, 3.1223947931, 4.7129959629, 4.7129959629, 4.7129959629], degree=2, weights=[1, 0.7000701578, 1, 0.7000701578, 1]))
            ThreePointArc((12.5677623507, 19.2966783129), (13.2306792626, 19.2979267335), (13.8869238704, 19.2041002692))
        make_face()
        with BuildLine():
            add(Edge.make_bspline(
                [(-17.3041885923, 16.0886555067), (-20.4530121178, 17.9828306773), (-20.5859804801, 17.1936358673), (-20.7189488423, 16.4044410572), (-17.5170477979, 14.8252919707)],
                knots=[1.4437537951, 1.4437537951, 1.4437537951, 3.2154865672, 3.2154865672, 4.9872193392, 4.9872193392, 4.9872193392], degree=2, weights=[1, 0.6326187548, 1, 0.6326187548, 1]))
            ThreePointArc((-17.5170477979, 14.8252919707), (-17.4547111229, 15.4644027845), (-17.3041885923, 16.0886555067))
        make_face()
        with BuildLine():
            ThreePointArc((-17.3041885923, 16.0886555067), (-17.4547111229, 15.4644027845), (-17.5170477979, 14.8252919707))
            add(Edge.make_bspline(
                [(-17.5170477979, 14.8252919707), (-15.5370704354, 13.8487847646), (-15.3071302921, 14.2545606941)],
                knots=[4.9872193392, 4.9872193392, 4.9872193392, 6.2831853072, 6.2831853072, 6.2831853072], degree=2, weights=[1, 0.797302849, 1]))
            add(Edge.make_bspline(
                [(-15.3071302921, 14.2545606941), (-15.039718366, 14.7264631696), (-17.3041885923, 16.0886555067)],
                knots=[0, 0, 0, 1.4437537951, 1.4437537951, 1.4437537951], degree=2, weights=[1, 0.7505668082, 1]))
        make_face()
        with BuildLine():
            add(Edge.make_bspline(
                [(-14.3421338871, 15.7459191978), (-14.0127760713, 16.4781937118), (-16.4683955259, 17.6280476969)],
                knots=[0, 0, 0, 1.5192282947, 1.5192282947, 1.5192282947], degree=2, weights=[1, 0.7251017789, 1]))
            ThreePointArc((-16.4683955259, 17.6280476969), (-16.9463041179, 16.9235615937), (-17.2865569965, 16.1432249544))
            add(Edge.make_bspline(
                [(-17.2865569965, 16.1432249544), (-14.6876888139, 14.9776329939), (-14.3421338871, 15.7459191978)],
                knots=[4.7159730132, 4.7159730132, 4.7159730132, 6.2831853072, 6.2831853072, 6.2831853072], degree=2, weights=[1, 0.7083727921, 1]))
        make_face()
        with BuildLine():
            ThreePointArc((-17.2865569965, 16.1432249544), (-16.9463041179, 16.9235615937), (-16.4683955259, 17.6280476969))
            add(Edge.make_bspline(
                [(-16.4683955259, 17.6280476969), (-19.1263304686, 18.8726367476), (-19.5470104176, 18.1091747929), (-19.9676903666, 17.3457128382), (-17.2865569965, 16.1432249544)],
                knots=[1.5192282947, 1.5192282947, 1.5192282947, 3.117600654, 3.117600654, 4.7159730132, 4.7159730132, 4.7159730132], degree=2, weights=[1, 0.6972902776, 1, 0.6972902776, 1]))
        make_face()
        with BuildLine():
            add(Edge.make_bspline(
                [(15.3071302921, 14.2545606941), (15.5370704354, 13.8487847646), (17.5170477979, 14.8252919707)],
                knots=[0, 0, 0, 1.295965968, 1.295965968, 1.295965968], degree=2, weights=[1, 0.797302849, 1]))
            ThreePointArc((17.5170477979, 14.8252919707), (17.4547111229, 15.4644027845), (17.3041885923, 16.0886555067))
            add(Edge.make_bspline(
                [(17.3041885923, 16.0886555067), (15.039718366, 14.7264631696), (15.3071302921, 14.2545606941)],
                knots=[4.839431512, 4.839431512, 4.839431512, 6.2831853072, 6.2831853072, 6.2831853072], degree=2, weights=[1, 0.7505668082, 1]))
        make_face()
        with BuildLine():
            ThreePointArc((17.3041885923, 16.0886555067), (17.4547111229, 15.4644027845), (17.5170477979, 14.8252919707))
            add(Edge.make_bspline(
                [(17.5170477979, 14.8252919707), (20.7189488423, 16.4044410572), (20.5859804801, 17.1936358673), (20.4530121178, 17.9828306773), (17.3041885923, 16.0886555067)],
                knots=[1.295965968, 1.295965968, 1.295965968, 3.06769874, 3.06769874, 4.839431512, 4.839431512, 4.839431512], degree=2, weights=[1, 0.6326187548, 1, 0.6326187548, 1]))
        make_face()
        with BuildLine():
            add(Edge.make_bspline(
                [(17.2865569965, 16.1432249544), (19.9676903666, 17.3457128382), (19.5470104176, 18.1091747929), (19.1263304686, 18.8726367476), (16.4683955259, 17.6280476969)],
                knots=[1.567212294, 1.567212294, 1.567212294, 3.1655846532, 3.1655846532, 4.7639570125, 4.7639570125, 4.7639570125], degree=2, weights=[1, 0.6972902776, 1, 0.6972902776, 1]))
            ThreePointArc((16.4683955259, 17.6280476969), (16.9463041179, 16.9235615937), (17.2865569965, 16.1432249544))
        make_face()
        with BuildLine():
            ThreePointArc((17.2865569965, 16.1432249544), (16.9463041179, 16.9235615937), (16.4683955259, 17.6280476969))
            add(Edge.make_bspline(
                [(16.4683955259, 17.6280476969), (14.0127760713, 16.4781937118), (14.3421338871, 15.7459191978)],
                knots=[4.7639570125, 4.7639570125, 4.7639570125, 6.2831853072, 6.2831853072, 6.2831853072], degree=2, weights=[1, 0.7251017789, 1]))
            add(Edge.make_bspline(
                [(14.3421338871, 15.7459191978), (14.6876888139, 14.9776329939), (17.2865569965, 16.1432249544)],
                knots=[0, 0, 0, 1.567212294, 1.567212294, 1.567212294], degree=2, weights=[1, 0.7083727921, 1]))
        make_face()
    extrude(amount=F1_DEPTH)

    # F2 (on face) → F3 (cut)
    with BuildSketch(Plane(origin=(0, 0, 0), x_dir=(-1, 0, 0), z_dir=(0, 1, 0))):
        Circle(F2_R)
    extrude(amount=-F3_DEPTH, mode=Mode.SUBTRACT)


solid = f1.part
